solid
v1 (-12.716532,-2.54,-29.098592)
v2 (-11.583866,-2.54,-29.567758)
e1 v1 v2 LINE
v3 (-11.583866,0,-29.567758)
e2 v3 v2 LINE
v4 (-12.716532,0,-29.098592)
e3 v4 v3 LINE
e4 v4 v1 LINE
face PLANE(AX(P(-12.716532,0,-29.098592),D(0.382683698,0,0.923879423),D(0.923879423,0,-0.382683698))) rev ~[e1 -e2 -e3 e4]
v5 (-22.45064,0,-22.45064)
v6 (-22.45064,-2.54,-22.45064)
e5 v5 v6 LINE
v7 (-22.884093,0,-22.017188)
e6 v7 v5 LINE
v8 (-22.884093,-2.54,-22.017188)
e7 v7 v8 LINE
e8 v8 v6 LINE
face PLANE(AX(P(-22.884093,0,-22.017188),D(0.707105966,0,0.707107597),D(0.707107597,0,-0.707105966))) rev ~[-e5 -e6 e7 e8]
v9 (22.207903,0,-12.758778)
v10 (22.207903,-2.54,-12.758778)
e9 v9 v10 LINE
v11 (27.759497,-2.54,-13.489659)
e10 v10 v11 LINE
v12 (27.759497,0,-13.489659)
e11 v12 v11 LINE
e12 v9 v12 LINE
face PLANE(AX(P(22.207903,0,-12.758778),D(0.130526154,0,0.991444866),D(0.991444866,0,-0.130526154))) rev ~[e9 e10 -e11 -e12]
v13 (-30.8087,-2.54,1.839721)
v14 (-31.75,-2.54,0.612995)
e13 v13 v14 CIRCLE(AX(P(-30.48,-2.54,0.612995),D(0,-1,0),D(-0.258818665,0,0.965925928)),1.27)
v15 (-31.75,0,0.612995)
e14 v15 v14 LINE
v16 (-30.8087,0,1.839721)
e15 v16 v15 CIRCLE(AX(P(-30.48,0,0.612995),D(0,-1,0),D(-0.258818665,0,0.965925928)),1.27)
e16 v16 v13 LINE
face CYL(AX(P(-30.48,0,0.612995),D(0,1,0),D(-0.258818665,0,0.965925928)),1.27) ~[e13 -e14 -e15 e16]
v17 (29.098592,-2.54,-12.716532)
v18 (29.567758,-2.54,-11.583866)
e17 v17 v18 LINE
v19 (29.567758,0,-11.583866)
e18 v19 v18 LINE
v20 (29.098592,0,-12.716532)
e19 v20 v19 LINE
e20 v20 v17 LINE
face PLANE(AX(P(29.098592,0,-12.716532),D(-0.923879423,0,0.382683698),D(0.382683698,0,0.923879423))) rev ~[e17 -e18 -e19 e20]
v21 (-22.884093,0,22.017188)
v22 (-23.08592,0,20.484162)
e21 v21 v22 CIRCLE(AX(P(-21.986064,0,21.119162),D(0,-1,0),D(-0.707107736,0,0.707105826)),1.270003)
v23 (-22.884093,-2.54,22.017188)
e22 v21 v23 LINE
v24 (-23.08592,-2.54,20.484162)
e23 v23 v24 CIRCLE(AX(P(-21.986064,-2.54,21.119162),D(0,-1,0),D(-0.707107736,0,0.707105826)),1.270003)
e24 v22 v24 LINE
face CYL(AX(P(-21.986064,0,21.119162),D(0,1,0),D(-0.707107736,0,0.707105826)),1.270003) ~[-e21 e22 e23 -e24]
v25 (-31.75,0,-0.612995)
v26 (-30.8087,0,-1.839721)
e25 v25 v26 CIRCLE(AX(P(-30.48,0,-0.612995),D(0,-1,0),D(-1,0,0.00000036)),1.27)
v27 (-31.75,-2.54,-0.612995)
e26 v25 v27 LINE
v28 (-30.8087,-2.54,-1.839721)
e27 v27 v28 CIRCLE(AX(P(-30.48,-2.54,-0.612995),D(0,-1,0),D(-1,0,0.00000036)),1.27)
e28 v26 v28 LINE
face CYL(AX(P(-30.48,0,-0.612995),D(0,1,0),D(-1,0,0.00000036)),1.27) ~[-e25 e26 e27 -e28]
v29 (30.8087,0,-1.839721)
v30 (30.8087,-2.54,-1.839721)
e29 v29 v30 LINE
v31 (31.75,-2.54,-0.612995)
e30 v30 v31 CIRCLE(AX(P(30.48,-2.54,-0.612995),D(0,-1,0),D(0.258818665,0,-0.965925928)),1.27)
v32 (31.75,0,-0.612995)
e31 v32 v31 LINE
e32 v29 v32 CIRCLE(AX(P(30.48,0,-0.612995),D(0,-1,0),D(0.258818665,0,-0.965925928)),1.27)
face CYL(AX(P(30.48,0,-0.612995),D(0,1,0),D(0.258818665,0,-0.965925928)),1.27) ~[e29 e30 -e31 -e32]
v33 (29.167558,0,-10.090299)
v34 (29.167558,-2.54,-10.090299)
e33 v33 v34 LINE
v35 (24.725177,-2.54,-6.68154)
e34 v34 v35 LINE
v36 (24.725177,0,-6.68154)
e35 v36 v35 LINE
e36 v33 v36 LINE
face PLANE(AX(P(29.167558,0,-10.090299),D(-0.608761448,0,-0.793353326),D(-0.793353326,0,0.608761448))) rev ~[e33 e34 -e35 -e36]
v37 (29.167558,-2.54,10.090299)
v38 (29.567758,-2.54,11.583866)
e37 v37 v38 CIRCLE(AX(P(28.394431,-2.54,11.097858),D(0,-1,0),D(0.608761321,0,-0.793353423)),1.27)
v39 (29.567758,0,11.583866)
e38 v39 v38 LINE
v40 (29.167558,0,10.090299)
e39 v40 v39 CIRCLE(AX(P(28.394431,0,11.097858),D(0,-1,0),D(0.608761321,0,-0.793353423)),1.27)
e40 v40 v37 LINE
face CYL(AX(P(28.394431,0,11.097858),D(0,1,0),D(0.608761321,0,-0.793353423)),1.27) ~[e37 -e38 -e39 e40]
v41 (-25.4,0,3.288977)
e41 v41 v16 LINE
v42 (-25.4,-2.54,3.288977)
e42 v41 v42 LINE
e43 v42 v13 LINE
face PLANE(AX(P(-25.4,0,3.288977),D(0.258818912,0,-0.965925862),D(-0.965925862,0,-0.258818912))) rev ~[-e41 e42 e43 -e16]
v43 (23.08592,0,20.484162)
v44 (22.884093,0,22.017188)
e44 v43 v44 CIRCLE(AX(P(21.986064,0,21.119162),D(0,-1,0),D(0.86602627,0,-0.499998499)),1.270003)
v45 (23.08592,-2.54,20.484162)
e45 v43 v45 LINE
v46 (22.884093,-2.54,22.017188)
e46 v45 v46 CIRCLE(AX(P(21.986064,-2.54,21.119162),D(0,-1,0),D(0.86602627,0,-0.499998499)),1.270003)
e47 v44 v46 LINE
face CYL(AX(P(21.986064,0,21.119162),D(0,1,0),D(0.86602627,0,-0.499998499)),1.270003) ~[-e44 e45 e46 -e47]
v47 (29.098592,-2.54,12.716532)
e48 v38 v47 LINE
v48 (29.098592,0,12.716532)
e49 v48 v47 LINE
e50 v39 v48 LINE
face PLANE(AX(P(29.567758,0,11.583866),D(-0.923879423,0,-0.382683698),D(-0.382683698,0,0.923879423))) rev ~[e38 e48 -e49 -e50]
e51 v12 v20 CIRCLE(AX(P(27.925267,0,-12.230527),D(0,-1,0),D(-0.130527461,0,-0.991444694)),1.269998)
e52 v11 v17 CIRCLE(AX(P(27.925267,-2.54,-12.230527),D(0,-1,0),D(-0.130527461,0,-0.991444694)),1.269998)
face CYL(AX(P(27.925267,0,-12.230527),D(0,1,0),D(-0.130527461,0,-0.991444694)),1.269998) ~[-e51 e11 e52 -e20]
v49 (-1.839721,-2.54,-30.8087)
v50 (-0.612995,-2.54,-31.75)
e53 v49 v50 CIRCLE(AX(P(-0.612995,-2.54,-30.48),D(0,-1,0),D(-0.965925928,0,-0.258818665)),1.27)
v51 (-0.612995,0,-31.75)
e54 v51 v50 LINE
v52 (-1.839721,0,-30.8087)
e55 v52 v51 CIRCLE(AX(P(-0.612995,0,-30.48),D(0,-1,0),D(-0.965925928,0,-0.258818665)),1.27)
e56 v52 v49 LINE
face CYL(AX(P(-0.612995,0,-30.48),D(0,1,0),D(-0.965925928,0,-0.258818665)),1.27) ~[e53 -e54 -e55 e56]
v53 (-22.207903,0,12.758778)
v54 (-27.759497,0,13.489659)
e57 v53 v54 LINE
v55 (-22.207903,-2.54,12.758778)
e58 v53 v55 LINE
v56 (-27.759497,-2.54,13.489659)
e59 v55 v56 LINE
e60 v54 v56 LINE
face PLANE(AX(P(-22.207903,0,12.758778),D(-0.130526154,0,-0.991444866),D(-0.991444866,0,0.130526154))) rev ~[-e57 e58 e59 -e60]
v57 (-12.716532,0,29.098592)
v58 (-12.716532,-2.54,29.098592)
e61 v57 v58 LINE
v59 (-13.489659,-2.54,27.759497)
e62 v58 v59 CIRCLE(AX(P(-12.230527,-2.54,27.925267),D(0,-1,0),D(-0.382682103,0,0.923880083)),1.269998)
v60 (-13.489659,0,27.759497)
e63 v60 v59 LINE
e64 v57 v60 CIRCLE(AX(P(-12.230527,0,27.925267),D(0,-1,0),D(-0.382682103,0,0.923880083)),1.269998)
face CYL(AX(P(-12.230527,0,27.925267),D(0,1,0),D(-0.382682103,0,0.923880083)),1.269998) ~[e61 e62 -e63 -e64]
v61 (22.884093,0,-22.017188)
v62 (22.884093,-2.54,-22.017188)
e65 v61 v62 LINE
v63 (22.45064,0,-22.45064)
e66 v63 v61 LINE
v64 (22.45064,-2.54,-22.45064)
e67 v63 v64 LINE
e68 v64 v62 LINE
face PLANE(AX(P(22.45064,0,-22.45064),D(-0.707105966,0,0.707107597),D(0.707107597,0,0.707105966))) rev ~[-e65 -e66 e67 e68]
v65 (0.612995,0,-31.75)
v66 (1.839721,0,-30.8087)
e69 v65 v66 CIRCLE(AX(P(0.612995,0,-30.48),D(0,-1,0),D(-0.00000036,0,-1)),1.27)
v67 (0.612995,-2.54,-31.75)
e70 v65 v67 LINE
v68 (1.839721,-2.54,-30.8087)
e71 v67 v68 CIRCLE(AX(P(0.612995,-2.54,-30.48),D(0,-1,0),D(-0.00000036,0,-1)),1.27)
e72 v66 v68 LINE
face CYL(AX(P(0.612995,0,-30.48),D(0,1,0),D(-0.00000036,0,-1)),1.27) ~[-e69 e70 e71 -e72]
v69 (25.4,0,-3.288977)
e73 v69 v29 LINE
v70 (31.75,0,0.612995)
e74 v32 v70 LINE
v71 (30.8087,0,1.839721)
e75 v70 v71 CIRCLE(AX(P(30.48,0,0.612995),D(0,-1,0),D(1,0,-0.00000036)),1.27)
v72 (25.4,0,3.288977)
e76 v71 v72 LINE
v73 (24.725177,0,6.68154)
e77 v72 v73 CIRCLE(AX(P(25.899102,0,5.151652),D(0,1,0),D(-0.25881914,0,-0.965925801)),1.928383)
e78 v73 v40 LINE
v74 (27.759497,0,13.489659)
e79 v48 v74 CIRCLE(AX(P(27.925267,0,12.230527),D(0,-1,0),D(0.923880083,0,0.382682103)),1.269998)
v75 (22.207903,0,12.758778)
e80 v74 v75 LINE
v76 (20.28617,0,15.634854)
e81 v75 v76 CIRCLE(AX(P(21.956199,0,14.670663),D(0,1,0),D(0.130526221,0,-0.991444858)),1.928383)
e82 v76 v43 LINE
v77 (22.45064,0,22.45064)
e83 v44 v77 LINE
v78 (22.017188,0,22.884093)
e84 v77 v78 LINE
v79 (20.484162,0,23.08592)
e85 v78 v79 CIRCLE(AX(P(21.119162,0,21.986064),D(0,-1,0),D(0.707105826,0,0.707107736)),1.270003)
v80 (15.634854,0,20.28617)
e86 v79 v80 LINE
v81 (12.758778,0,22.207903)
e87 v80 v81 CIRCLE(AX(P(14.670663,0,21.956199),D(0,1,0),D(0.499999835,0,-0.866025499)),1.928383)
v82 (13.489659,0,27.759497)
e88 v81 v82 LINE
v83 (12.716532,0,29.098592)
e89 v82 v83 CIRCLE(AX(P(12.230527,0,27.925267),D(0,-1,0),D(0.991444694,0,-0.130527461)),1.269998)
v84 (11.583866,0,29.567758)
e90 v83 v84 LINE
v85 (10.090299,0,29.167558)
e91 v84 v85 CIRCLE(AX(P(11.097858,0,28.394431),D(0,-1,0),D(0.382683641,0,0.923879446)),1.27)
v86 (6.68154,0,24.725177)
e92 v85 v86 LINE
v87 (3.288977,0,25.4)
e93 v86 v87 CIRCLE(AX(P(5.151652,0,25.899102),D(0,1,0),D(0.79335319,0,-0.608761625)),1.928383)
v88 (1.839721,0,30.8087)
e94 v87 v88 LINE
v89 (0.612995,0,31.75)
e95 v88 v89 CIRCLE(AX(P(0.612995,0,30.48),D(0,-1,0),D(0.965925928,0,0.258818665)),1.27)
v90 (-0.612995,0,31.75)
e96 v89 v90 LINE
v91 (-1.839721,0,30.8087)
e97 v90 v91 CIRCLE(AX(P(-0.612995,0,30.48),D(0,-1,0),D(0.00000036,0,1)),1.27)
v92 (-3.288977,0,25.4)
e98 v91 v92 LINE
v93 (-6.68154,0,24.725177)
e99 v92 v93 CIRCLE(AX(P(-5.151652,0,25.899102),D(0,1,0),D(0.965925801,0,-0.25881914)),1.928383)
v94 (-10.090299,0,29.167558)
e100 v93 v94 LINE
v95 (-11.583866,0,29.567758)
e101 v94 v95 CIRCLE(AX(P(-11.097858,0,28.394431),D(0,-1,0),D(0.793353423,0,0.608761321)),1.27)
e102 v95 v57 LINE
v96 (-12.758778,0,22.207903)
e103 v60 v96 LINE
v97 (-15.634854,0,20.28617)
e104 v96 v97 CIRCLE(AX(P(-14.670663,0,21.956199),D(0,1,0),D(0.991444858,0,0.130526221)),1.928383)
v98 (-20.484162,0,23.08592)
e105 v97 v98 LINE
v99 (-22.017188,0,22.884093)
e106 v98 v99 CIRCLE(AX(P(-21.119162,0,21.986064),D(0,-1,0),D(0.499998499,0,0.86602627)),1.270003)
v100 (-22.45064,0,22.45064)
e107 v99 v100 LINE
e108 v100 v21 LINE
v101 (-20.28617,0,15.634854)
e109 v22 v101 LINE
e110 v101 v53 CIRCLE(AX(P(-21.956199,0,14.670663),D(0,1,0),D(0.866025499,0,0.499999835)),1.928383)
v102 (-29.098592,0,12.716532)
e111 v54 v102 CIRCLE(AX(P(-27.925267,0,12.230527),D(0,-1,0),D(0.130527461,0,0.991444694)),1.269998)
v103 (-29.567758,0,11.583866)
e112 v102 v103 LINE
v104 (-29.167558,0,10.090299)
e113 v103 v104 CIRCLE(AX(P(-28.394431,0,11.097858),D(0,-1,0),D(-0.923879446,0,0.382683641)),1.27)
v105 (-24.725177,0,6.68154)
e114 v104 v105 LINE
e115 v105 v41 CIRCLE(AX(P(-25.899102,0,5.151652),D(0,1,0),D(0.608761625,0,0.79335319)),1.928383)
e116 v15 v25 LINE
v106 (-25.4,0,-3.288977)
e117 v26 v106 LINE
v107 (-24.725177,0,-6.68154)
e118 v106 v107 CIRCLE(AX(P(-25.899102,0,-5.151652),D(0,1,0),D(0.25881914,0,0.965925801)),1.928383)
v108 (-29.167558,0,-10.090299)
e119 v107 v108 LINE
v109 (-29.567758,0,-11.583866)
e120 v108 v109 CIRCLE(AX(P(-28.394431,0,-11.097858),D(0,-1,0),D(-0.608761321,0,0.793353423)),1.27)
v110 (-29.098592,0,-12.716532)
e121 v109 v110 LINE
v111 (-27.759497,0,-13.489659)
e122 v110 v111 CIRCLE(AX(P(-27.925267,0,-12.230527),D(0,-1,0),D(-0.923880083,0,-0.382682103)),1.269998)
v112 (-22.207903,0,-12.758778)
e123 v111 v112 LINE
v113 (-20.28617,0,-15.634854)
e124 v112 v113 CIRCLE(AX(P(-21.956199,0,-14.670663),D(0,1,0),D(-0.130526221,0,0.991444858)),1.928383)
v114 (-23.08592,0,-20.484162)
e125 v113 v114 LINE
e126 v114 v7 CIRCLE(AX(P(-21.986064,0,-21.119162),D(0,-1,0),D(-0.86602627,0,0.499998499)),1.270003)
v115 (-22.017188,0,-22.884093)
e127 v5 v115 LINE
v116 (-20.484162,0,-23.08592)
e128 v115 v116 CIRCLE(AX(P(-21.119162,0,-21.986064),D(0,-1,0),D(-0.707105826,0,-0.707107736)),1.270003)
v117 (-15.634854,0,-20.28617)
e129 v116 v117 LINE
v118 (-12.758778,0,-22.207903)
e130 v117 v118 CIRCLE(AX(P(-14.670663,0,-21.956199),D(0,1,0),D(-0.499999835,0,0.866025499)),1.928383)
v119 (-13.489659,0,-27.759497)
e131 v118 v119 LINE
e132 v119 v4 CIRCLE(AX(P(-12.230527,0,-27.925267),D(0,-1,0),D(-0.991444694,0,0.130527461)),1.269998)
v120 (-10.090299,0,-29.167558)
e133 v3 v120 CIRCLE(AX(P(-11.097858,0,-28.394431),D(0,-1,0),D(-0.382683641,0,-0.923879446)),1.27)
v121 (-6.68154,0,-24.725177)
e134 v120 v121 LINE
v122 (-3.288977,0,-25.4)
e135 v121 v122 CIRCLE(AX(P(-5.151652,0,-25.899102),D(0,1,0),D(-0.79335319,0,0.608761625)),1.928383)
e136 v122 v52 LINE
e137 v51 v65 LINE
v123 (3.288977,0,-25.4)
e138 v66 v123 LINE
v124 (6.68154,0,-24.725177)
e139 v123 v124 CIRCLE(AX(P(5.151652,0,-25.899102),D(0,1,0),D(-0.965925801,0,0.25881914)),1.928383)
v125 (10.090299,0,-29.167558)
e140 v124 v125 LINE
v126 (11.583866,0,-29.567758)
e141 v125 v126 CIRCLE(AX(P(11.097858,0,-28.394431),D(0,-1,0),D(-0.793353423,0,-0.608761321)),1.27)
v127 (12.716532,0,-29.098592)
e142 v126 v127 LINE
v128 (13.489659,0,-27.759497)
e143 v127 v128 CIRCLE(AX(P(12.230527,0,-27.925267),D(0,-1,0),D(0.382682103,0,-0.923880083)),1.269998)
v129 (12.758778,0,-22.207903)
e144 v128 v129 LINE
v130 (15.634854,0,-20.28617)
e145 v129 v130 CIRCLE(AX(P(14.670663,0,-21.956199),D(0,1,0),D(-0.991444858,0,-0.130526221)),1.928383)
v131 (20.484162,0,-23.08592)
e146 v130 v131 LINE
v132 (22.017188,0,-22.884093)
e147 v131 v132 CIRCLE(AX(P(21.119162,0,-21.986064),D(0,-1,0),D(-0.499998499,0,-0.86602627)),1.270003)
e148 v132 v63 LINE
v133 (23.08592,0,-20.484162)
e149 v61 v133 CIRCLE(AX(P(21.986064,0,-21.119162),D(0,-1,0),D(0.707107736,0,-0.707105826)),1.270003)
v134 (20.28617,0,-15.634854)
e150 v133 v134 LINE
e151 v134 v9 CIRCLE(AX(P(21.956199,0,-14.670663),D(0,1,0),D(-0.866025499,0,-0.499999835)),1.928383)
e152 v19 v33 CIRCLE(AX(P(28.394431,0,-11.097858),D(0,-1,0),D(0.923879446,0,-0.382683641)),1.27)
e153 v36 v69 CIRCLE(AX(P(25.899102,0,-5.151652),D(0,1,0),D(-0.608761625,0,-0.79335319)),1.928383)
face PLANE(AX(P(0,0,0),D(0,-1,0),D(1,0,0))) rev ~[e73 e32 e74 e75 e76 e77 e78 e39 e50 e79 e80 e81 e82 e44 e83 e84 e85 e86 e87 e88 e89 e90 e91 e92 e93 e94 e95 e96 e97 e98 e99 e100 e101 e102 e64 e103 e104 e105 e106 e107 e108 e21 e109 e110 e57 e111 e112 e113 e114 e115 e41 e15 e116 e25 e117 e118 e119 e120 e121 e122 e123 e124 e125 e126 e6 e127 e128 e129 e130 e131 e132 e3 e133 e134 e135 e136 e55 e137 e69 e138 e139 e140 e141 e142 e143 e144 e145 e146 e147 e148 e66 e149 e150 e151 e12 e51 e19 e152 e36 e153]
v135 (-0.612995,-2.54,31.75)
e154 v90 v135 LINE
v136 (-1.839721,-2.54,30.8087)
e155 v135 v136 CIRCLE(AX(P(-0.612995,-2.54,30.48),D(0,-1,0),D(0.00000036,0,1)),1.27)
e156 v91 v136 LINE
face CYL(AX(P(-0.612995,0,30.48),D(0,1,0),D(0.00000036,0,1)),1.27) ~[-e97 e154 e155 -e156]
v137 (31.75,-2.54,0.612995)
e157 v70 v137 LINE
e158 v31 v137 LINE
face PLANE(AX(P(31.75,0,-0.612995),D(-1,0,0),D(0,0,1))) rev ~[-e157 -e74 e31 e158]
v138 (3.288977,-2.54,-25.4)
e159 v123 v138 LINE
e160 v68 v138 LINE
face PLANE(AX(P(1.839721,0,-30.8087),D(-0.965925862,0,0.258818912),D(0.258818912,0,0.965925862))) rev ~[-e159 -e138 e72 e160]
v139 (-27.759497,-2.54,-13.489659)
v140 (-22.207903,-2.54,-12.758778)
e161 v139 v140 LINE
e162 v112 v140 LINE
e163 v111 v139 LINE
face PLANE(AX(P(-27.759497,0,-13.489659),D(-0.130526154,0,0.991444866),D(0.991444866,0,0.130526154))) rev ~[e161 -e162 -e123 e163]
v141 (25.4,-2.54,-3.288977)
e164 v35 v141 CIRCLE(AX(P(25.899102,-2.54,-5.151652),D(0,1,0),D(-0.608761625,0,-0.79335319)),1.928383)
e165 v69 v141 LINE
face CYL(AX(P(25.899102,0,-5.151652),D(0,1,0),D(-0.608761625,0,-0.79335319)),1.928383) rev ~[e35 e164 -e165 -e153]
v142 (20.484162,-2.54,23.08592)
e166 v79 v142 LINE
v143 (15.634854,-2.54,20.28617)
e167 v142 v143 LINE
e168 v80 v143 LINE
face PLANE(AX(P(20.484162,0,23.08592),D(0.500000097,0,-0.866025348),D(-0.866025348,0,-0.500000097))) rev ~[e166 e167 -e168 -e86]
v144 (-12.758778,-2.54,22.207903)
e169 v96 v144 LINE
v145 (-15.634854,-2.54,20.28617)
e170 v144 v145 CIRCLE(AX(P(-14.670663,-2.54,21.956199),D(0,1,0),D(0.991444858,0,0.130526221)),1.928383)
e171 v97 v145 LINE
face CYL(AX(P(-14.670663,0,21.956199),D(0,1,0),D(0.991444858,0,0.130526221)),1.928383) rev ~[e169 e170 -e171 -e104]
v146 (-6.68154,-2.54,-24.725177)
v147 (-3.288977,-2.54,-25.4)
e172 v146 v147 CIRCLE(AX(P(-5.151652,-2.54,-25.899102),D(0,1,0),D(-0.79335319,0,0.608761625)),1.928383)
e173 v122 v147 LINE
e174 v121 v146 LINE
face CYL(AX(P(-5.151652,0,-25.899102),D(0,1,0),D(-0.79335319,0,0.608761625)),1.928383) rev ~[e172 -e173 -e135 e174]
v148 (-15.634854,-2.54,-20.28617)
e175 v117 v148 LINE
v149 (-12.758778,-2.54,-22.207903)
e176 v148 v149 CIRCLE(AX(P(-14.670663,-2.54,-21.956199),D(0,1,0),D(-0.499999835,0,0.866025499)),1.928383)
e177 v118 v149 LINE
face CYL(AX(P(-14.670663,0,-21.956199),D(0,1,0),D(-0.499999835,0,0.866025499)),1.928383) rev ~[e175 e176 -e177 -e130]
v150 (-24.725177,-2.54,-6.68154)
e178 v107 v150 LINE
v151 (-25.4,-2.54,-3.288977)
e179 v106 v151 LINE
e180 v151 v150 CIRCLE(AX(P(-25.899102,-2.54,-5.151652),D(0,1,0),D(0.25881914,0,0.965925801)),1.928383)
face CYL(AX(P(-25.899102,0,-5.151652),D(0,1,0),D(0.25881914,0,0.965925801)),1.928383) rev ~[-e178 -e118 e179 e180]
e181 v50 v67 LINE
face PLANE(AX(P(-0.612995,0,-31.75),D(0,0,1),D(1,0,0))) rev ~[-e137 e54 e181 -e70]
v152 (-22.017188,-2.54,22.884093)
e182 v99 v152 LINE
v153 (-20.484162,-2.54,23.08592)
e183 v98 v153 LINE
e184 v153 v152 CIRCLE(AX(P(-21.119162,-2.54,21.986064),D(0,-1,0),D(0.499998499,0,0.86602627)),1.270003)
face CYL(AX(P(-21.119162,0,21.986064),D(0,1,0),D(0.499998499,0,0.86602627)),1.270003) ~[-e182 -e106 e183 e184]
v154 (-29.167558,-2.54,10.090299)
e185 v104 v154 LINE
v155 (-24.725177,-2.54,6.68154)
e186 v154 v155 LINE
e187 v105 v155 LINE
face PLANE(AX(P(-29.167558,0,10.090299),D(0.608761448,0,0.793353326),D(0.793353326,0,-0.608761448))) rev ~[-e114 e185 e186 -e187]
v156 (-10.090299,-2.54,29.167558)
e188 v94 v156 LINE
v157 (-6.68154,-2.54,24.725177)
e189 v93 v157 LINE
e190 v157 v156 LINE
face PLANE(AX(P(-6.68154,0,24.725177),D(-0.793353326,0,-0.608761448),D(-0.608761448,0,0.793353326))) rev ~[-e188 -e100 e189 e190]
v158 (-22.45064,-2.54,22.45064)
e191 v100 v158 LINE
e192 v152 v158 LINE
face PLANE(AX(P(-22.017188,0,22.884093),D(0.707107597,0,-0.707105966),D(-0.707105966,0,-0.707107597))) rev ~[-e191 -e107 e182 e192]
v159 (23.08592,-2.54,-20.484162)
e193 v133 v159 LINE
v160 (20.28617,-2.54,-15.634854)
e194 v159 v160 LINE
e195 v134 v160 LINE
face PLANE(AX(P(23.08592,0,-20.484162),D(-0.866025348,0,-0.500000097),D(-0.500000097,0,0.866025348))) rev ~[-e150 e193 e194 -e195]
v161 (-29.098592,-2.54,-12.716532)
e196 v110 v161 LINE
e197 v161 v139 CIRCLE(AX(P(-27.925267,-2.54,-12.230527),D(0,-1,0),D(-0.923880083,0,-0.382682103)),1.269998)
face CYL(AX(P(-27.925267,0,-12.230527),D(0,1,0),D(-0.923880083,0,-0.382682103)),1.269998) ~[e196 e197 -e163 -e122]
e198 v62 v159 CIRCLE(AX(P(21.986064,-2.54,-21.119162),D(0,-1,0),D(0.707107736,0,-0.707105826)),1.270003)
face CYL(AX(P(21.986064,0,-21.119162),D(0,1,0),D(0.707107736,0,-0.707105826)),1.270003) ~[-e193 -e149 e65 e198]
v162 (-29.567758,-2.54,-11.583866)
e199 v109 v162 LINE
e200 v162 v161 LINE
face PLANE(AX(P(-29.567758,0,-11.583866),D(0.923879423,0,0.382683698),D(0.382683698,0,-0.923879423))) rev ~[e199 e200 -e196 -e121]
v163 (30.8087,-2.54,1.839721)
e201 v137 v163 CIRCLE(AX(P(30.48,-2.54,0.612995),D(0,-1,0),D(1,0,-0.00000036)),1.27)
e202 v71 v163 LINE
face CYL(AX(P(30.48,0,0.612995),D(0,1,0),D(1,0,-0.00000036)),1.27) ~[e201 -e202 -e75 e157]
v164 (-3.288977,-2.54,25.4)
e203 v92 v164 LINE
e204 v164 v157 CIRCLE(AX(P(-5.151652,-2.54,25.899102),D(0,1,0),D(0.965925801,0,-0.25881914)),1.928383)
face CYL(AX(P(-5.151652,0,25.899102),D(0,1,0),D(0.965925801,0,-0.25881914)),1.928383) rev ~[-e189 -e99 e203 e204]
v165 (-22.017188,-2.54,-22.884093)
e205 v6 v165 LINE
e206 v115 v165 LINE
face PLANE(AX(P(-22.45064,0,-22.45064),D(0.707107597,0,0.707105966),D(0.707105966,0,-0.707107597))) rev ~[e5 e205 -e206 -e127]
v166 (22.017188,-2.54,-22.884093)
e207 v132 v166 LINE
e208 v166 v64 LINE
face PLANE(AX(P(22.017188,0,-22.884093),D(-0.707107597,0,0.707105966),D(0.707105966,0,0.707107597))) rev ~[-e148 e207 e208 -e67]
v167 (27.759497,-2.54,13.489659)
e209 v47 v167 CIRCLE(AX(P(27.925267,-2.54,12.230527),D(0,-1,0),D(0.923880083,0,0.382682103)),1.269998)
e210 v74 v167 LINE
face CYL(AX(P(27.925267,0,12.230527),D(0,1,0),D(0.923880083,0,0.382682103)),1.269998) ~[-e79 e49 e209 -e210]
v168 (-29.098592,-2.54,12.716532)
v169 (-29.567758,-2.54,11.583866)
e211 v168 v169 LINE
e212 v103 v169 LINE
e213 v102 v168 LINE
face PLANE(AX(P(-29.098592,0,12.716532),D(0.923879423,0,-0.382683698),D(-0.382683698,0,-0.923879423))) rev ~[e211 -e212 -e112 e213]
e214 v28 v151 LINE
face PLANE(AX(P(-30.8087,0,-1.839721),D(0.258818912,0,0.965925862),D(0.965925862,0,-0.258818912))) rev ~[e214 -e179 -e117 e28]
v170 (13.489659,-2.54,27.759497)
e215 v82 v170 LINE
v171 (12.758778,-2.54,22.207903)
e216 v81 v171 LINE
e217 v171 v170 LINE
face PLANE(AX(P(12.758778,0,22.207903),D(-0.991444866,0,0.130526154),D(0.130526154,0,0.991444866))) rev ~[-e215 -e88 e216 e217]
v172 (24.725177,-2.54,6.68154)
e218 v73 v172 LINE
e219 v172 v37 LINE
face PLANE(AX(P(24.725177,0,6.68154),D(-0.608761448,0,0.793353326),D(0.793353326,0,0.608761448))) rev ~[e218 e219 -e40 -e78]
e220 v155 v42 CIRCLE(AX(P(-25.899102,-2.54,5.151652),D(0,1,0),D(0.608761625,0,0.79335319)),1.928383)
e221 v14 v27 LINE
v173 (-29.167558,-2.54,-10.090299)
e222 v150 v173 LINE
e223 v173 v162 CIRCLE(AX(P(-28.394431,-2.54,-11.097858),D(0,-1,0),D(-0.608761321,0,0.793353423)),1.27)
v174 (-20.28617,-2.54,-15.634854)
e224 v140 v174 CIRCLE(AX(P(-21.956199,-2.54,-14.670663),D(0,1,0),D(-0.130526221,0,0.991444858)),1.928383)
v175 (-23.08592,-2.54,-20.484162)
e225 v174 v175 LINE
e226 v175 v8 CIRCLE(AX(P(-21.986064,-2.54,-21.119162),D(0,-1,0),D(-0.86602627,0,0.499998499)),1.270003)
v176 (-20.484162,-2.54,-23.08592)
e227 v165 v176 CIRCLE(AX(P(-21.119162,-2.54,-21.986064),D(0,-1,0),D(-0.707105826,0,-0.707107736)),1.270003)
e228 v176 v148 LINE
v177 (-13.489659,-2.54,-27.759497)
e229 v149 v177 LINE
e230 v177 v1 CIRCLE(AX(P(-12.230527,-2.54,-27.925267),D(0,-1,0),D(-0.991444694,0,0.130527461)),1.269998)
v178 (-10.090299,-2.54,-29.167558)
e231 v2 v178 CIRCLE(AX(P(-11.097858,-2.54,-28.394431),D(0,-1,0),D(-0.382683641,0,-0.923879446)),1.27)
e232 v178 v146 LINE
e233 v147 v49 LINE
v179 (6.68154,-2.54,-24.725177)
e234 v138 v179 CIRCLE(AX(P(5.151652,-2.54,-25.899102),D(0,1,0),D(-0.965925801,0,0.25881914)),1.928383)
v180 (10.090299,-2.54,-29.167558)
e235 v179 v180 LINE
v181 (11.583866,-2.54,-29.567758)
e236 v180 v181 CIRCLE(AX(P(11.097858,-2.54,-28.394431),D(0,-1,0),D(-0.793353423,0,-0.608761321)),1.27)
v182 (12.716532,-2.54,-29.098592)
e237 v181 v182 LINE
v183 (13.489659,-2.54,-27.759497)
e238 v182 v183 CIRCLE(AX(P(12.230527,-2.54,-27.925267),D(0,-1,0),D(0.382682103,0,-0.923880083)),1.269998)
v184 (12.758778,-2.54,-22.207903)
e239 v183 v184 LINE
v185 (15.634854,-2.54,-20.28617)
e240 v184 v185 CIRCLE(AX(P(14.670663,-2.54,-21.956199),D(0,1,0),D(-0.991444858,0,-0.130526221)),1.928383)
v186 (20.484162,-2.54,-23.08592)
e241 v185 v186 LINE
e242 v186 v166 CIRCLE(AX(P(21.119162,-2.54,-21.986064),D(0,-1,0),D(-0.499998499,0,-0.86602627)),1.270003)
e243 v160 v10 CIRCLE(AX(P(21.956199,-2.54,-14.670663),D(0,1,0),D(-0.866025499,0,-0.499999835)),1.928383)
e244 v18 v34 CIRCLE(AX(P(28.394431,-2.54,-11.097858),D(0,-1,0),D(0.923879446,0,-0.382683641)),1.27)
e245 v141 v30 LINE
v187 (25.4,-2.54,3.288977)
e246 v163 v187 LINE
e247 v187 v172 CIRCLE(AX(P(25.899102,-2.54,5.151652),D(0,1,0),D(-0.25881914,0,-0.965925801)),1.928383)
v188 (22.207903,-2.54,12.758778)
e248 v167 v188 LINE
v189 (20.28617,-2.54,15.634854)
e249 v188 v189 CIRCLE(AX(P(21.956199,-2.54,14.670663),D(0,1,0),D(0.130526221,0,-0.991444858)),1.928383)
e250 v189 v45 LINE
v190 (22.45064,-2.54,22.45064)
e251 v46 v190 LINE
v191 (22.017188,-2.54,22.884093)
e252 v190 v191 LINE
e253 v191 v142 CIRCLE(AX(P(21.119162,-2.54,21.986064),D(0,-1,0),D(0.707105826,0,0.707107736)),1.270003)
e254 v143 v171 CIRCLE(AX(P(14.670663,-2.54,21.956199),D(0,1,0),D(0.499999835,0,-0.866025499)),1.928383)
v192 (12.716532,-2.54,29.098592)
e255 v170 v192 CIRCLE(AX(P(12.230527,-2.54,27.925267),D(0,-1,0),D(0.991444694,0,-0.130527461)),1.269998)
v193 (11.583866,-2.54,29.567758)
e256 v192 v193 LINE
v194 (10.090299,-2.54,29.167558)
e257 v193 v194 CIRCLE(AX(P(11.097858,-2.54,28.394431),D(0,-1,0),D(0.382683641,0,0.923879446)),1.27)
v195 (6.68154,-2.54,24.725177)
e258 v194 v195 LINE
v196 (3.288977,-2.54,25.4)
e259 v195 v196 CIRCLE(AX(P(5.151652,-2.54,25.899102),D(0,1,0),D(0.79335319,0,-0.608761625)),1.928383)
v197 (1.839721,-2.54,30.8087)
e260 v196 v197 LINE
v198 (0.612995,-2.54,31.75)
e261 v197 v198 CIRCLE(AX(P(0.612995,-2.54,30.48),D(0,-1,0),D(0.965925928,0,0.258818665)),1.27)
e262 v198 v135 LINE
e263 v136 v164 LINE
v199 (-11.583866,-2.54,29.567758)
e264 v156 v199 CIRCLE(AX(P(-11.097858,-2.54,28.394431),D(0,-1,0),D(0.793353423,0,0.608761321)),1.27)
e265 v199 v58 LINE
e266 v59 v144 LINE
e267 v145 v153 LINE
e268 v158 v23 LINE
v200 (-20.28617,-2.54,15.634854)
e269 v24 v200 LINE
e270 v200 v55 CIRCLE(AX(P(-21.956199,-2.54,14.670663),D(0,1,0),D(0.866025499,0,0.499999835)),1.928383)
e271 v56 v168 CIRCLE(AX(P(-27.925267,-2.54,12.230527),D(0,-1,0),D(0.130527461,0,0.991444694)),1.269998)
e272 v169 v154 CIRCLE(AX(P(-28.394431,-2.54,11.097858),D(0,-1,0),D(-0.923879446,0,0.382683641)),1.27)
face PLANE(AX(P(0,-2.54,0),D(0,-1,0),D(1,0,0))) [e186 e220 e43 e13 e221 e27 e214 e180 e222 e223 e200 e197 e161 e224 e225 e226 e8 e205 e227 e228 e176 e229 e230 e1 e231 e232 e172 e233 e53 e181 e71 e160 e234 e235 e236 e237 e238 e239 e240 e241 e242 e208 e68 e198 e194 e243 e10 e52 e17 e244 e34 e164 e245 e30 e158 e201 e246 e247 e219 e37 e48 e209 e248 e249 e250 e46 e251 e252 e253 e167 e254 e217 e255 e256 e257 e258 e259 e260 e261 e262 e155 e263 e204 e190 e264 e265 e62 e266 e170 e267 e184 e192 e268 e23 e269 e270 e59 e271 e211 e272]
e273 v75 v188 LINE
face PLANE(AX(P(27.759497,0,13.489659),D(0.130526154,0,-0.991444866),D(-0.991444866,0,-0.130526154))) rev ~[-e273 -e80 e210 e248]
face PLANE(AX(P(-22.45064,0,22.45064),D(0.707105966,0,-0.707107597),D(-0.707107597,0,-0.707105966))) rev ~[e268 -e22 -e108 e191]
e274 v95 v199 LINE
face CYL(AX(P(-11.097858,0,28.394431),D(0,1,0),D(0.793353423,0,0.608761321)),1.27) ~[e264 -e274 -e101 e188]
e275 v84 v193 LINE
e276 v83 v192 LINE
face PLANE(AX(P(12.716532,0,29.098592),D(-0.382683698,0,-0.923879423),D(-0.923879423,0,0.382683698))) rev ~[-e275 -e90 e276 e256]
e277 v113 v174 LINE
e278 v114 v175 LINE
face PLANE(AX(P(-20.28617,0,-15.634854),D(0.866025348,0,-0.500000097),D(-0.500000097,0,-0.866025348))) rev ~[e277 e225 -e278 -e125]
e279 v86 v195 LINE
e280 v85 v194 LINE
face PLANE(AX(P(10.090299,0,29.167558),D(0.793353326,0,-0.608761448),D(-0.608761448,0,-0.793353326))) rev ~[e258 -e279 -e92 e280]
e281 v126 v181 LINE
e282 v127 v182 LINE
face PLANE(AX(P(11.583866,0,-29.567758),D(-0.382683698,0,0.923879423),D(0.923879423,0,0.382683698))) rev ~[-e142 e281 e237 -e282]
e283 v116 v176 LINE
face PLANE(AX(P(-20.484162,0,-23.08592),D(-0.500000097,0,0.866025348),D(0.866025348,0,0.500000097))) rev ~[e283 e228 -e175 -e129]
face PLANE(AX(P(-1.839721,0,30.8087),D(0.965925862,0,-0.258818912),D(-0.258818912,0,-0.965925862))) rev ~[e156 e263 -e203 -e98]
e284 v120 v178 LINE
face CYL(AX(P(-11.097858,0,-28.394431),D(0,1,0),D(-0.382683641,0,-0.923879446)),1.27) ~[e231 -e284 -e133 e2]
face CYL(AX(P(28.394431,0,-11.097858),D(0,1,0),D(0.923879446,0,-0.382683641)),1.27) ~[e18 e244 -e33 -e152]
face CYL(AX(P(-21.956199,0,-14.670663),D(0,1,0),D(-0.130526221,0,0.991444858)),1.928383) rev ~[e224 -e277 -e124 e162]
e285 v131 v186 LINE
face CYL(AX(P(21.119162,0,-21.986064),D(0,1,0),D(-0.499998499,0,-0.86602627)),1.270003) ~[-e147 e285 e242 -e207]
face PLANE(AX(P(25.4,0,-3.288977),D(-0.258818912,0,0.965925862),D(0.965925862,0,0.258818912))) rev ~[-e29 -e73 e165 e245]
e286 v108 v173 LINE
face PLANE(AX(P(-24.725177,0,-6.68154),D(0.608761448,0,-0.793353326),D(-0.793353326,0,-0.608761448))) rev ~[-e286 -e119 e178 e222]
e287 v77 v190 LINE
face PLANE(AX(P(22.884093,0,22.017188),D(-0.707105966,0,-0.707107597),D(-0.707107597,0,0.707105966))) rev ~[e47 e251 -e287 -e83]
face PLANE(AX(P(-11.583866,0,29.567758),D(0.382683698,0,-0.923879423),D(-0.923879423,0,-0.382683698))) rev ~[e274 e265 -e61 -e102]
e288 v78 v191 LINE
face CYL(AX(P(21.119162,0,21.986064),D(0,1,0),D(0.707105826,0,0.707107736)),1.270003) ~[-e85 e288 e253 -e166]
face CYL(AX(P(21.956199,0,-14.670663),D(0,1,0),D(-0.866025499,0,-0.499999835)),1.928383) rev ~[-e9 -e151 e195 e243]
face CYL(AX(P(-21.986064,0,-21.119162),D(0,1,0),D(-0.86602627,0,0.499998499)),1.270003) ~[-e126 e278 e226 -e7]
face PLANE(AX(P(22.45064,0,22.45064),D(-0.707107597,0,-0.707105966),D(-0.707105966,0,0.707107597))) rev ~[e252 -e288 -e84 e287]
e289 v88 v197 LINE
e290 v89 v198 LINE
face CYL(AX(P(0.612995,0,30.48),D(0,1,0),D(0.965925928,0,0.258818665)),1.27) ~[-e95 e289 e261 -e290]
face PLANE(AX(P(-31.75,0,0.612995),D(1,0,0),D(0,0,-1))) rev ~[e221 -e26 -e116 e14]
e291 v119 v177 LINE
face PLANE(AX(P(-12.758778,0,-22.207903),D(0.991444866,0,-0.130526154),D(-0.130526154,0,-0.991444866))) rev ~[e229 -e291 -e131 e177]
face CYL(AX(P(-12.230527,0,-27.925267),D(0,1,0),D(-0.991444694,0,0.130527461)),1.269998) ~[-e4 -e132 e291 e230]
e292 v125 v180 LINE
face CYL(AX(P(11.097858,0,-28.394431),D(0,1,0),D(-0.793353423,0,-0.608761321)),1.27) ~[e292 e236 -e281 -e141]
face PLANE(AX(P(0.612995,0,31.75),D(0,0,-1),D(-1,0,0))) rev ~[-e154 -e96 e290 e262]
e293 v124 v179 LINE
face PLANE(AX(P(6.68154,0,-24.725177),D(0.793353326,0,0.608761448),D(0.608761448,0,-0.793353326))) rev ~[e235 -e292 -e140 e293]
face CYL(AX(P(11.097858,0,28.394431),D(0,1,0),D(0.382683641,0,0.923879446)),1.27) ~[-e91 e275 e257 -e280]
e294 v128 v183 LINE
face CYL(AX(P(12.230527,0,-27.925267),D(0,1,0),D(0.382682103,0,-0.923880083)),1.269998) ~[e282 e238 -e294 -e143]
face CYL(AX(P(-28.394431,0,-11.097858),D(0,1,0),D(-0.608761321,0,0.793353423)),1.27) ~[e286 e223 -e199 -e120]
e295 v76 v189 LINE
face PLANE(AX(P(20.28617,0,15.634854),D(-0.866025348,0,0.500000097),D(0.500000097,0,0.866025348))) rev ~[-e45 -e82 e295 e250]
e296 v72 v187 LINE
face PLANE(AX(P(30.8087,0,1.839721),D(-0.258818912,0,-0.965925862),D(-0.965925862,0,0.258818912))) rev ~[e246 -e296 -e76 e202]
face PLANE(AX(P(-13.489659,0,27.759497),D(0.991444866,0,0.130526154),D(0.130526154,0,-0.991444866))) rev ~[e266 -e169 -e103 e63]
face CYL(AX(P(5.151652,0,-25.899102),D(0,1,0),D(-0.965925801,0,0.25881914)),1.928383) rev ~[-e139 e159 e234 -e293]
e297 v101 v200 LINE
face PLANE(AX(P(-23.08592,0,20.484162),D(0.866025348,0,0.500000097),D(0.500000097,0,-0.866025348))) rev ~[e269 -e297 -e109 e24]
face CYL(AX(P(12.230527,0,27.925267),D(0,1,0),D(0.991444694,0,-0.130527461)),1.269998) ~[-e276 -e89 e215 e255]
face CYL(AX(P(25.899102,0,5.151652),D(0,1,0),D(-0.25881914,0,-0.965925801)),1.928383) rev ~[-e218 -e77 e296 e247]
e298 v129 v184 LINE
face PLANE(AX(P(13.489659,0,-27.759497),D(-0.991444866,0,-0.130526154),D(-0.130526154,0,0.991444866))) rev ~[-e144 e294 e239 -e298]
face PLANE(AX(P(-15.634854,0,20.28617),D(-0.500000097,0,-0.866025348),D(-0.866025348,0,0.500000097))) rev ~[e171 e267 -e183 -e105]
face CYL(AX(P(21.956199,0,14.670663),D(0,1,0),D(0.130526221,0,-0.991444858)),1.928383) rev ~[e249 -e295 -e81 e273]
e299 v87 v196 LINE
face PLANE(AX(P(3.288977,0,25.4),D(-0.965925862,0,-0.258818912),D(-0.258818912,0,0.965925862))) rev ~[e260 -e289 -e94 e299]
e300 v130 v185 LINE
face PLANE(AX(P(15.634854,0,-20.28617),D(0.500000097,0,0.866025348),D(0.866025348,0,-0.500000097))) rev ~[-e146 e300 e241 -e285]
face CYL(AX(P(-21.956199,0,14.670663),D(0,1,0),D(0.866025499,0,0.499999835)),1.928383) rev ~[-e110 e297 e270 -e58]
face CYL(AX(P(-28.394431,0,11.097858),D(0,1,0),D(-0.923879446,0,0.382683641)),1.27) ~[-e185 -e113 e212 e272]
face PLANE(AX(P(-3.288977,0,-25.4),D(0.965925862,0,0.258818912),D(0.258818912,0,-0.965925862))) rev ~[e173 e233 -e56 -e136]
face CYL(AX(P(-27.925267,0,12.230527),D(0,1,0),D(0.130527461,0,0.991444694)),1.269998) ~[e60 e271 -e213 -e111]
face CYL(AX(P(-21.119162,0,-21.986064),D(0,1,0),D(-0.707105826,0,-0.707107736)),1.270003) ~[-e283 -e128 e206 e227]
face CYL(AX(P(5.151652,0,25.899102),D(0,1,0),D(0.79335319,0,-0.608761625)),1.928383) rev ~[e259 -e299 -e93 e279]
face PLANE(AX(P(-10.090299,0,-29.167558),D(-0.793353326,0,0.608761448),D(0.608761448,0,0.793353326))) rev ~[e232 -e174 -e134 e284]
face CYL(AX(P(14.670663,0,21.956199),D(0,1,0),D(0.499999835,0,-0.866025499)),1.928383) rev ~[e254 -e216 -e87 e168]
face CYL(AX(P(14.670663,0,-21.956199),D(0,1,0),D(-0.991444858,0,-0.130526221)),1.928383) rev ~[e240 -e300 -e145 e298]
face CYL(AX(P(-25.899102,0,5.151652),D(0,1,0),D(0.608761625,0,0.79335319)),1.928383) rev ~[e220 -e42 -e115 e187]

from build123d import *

# Parameters (mm, degrees)
F1_DEPTH = 2.54


with BuildPart() as f1:
    # F0 (on Front) → F1 (new body)
    with BuildSketch(Plane.XZ):
        with BuildLine():
            Line((-1.839721, 30.8087), (-3.288977, 25.4))
            ThreePointArc((-3.288977, 25.4), (-4.775443, 24.007773), (-6.68154, 24.725177))
            Line((-6.68154, 24.725177), (-10.090299, 29.167558))
            ThreePointArc((-10.090299, 29.167558), (-10.769158, 29.621157), (-11.583866, 29.567758))
            Line((-11.583866, 29.567758), (-12.150199, 29.333175))
            Line((-12.150199, 29.333175), (-12.716532, 29.098592))
            ThreePointArc((-12.716532, 29.098592), (-13.330377, 28.560265), (-13.489659, 27.759497))
            Line((-13.489659, 27.759497), (-12.758778, 22.207903))
            ThreePointArc((-12.758778, 22.207903), (-13.599311, 20.352807), (-15.634854, 20.28617))
            Line((-15.634854, 20.28617), (-20.484162, 23.08592))
            ThreePointArc((-20.484162, 23.08592), (-21.28493, 23.245202), (-22.017188, 22.884093))
            Line((-22.017188, 22.884093), (-22.45064, 22.45064))
            Line((-22.45064, 22.45064), (-22.884093, 22.017188))
            ThreePointArc((-22.884093, 22.017188), (-23.245202, 21.28493), (-23.08592, 20.484162))
            Line((-23.08592, 20.484162), (-20.28617, 15.634854))
            ThreePointArc((-20.28617, 15.634854), (-20.352807, 13.599311), (-22.207903, 12.758778))
            Line((-22.207903, 12.758778), (-27.759497, 13.489659))
            ThreePointArc((-27.759497, 13.489659), (-28.560265, 13.330377), (-29.098592, 12.716532))
            Line((-29.098592, 12.716532), (-29.333175, 12.150199))
            Line((-29.333175, 12.150199), (-29.567758, 11.583866))
            ThreePointArc((-29.567758, 11.583866), (-29.621157, 10.769158), (-29.167558, 10.090299))
            Line((-29.167558, 10.090299), (-24.725177, 6.68154))
            ThreePointArc((-24.725177, 6.68154), (-24.007773, 4.775443), (-25.4, 3.288977))
            Line((-25.4, 3.288977), (-30.8087, 1.839721))
            ThreePointArc((-30.8087, 1.839721), (-31.487559, 1.386122), (-31.75, 0.612995))
            Line((-31.75, 0.612995), (-31.75, 0))
            Line((-31.75, 0), (-31.75, -0.612995))
            ThreePointArc((-31.75, -0.612995), (-31.487559, -1.386122), (-30.8087, -1.839721))
            Line((-30.8087, -1.839721), (-25.4, -3.288977))
            ThreePointArc((-25.4, -3.288977), (-24.007773, -4.775443), (-24.725177, -6.68154))
            Line((-24.725177, -6.68154), (-29.167558, -10.090299))
            ThreePointArc((-29.167558, -10.090299), (-29.621157, -10.769158), (-29.567758, -11.583866))
            Line((-29.567758, -11.583866), (-29.333175, -12.150199))
            Line((-29.333175, -12.150199), (-29.098592, -12.716532))
            ThreePointArc((-29.098592, -12.716532), (-28.560265, -13.330377), (-27.759497, -13.489659))
            Line((-27.759497, -13.489659), (-22.207903, -12.758778))
            ThreePointArc((-22.207903, -12.758778), (-20.352807, -13.599311), (-20.28617, -15.634854))
            Line((-20.28617, -15.634854), (-23.08592, -20.484162))
            ThreePointArc((-23.08592, -20.484162), (-23.245202, -21.28493), (-22.884093, -22.017188))
            Line((-22.884093, -22.017188), (-22.45064, -22.45064))
            Line((-22.45064, -22.45064), (-22.017188, -22.884093))
            ThreePointArc((-22.017188, -22.884093), (-21.28493, -23.245202), (-20.484162, -23.08592))
            Line((-20.484162, -23.08592), (-15.634854, -20.28617))
            ThreePointArc((-15.634854, -20.28617), (-13.599311, -20.352807), (-12.758778, -22.207903))
            Line((-12.758778, -22.207903), (-13.489659, -27.759497))
            ThreePointArc((-13.489659, -27.759497), (-13.330377, -28.560265), (-12.716532, -29.098592))
            Line((-12.716532, -29.098592), (-12.150199, -29.333175))
            Line((-12.150199, -29.333175), (-11.583866, -29.567758))
            ThreePointArc((-11.583866, -29.567758), (-10.769158, -29.621157), (-10.090299, -29.167558))
            Line((-10.090299, -29.167558), (-6.68154, -24.725177))
            ThreePointArc((-6.68154, -24.725177), (-4.775443, -24.007773), (-3.288977, -25.4))
            Line((-3.288977, -25.4), (-1.839721, -30.8087))
            ThreePointArc((-1.839721, -30.8087), (-1.386122, -31.487559), (-0.612995, -31.75))
            Line((-0.612995, -31.75), (0, -31.75))
            Line((0, -31.75), (0.612995, -31.75))
            ThreePointArc((0.612995, -31.75), (1.386122, -31.487559), (1.839721, -30.8087))
            Line((1.839721, -30.8087), (3.288977, -25.4))
            ThreePointArc((3.288977, -25.4), (4.775443, -24.007773), (6.68154, -24.725177))
            Line((6.68154, -24.725177), (10.090299, -29.167558))
            ThreePointArc((10.090299, -29.167558), (10.769158, -29.621157), (11.583866, -29.567758))
            Line((11.583866, -29.567758), (12.150199, -29.333175))
            Line((12.150199, -29.333175), (12.716532, -29.098592))
            ThreePointArc((12.716532, -29.098592), (13.330377, -28.560265), (13.489659, -27.759497))
            Line((13.489659, -27.759497), (12.758778, -22.207903))
            ThreePointArc((12.758778, -22.207903), (13.599311, -20.352807), (15.634854, -20.28617))
            Line((15.634854, -20.28617), (20.484162, -23.08592))
            ThreePointArc((20.484162, -23.08592), (21.28493, -23.245202), (22.017188, -22.884093))
            Line((22.017188, -22.884093), (22.45064, -22.45064))
            Line((22.45064, -22.45064), (22.884093, -22.017188))
            ThreePointArc((22.884093, -22.017188), (23.245202, -21.28493), (23.08592, -20.484162))
            Line((23.08592, -20.484162), (20.28617, -15.634854))
            ThreePointArc((20.28617, -15.634854), (20.352807, -13.599311), (22.207903, -12.758778))
            Line((22.207903, -12.758778), (27.759497, -13.489659))
            ThreePointArc((27.759497, -13.489659), (28.560265, -13.330377), (29.098592, -12.716532))
            Line((29.098592, -12.716532), (29.333175, -12.150199))
            Line((29.333175, -12.150199), (29.567758, -11.583866))
            ThreePointArc((29.567758, -11.583866), (29.621157, -10.769158), (29.167558, -10.090299))
            Line((29.167558, -10.090299), (24.725177, -6.68154))
            ThreePointArc((24.725177, -6.68154), (24.007773, -4.775443), (25.4, -3.288977))
            Line((25.4, -3.288977), (30.8087, -1.839721))
            ThreePointArc((30.8087, -1.839721), (31.487559, -1.386122), (31.75, -0.612995))
            Line((31.75, -0.612995), (31.75, 0))
            Line((31.75, 0), (31.75, 0.612995))
            ThreePointArc((31.75, 0.612995), (31.487559, 1.386122), (30.8087, 1.839721))
            Line((30.8087, 1.839721), (25.4, 3.288977))
            ThreePointArc((25.4, 3.288977), (24.007773, 4.775443), (24.725177, 6.68154))
            Line((24.725177, 6.68154), (29.167558, 10.090299))
            ThreePointArc((29.167558, 10.090299), (29.621157, 10.769158), (29.567758, 11.583866))
            Line((29.567758, 11.583866), (29.333175, 12.150199))
            Line((29.333175, 12.150199), (29.098592, 12.716532))
            ThreePointArc((29.098592, 12.716532), (28.560265, 13.330377), (27.759497, 13.489659))
            Line((27.759497, 13.489659), (22.207903, 12.758778))
            ThreePointArc((22.207903, 12.758778), (20.352807, 13.599311), (20.28617, 15.634854))
            Line((20.28617, 15.634854), (23.08592, 20.484162))
            ThreePointArc((23.08592, 20.484162), (23.245202, 21.28493), (22.884093, 22.017188))
            Line((22.884093, 22.017188), (22.45064, 22.45064))
            Line((22.45064, 22.45064), (22.017188, 22.884093))
            ThreePointArc((22.017188, 22.884093), (21.28493, 23.245202), (20.484162, 23.08592))
            Line((20.484162, 23.08592), (15.634854, 20.28617))
            ThreePointArc((15.634854, 20.28617), (13.599311, 20.352807), (12.758778, 22.207903))
            Line((12.758778, 22.207903), (13.489659, 27.759497))
            ThreePointArc((13.489659, 27.759497), (13.330377, 28.560265), (12.716532, 29.098592))
            Line((12.716532, 29.098592), (12.150199, 29.333175))
            Line((12.150199, 29.333175), (11.583866, 29.567758))
            ThreePointArc((11.583866, 29.567758), (10.769158, 29.621157), (10.090299, 29.167558))
            Line((10.090299, 29.167558), (6.68154, 24.725177))
            ThreePointArc((6.68154, 24.725177), (4.775443, 24.007773), (3.288977, 25.4))
            Line((3.288977, 25.4), (1.839721, 30.8087))
            ThreePointArc((1.839721, 30.8087), (1.386122, 31.487559), (0.612995, 31.75))
            Line((0.612995, 31.75), (0, 31.75))
            Line((0, 31.75), (-0.612995, 31.75))
            ThreePointArc((-0.612995, 31.75), (-1.386122, 31.487559), (-1.839721, 30.8087))
        make_face()
    extrude(amount=F1_DEPTH)


solid = f1.part
